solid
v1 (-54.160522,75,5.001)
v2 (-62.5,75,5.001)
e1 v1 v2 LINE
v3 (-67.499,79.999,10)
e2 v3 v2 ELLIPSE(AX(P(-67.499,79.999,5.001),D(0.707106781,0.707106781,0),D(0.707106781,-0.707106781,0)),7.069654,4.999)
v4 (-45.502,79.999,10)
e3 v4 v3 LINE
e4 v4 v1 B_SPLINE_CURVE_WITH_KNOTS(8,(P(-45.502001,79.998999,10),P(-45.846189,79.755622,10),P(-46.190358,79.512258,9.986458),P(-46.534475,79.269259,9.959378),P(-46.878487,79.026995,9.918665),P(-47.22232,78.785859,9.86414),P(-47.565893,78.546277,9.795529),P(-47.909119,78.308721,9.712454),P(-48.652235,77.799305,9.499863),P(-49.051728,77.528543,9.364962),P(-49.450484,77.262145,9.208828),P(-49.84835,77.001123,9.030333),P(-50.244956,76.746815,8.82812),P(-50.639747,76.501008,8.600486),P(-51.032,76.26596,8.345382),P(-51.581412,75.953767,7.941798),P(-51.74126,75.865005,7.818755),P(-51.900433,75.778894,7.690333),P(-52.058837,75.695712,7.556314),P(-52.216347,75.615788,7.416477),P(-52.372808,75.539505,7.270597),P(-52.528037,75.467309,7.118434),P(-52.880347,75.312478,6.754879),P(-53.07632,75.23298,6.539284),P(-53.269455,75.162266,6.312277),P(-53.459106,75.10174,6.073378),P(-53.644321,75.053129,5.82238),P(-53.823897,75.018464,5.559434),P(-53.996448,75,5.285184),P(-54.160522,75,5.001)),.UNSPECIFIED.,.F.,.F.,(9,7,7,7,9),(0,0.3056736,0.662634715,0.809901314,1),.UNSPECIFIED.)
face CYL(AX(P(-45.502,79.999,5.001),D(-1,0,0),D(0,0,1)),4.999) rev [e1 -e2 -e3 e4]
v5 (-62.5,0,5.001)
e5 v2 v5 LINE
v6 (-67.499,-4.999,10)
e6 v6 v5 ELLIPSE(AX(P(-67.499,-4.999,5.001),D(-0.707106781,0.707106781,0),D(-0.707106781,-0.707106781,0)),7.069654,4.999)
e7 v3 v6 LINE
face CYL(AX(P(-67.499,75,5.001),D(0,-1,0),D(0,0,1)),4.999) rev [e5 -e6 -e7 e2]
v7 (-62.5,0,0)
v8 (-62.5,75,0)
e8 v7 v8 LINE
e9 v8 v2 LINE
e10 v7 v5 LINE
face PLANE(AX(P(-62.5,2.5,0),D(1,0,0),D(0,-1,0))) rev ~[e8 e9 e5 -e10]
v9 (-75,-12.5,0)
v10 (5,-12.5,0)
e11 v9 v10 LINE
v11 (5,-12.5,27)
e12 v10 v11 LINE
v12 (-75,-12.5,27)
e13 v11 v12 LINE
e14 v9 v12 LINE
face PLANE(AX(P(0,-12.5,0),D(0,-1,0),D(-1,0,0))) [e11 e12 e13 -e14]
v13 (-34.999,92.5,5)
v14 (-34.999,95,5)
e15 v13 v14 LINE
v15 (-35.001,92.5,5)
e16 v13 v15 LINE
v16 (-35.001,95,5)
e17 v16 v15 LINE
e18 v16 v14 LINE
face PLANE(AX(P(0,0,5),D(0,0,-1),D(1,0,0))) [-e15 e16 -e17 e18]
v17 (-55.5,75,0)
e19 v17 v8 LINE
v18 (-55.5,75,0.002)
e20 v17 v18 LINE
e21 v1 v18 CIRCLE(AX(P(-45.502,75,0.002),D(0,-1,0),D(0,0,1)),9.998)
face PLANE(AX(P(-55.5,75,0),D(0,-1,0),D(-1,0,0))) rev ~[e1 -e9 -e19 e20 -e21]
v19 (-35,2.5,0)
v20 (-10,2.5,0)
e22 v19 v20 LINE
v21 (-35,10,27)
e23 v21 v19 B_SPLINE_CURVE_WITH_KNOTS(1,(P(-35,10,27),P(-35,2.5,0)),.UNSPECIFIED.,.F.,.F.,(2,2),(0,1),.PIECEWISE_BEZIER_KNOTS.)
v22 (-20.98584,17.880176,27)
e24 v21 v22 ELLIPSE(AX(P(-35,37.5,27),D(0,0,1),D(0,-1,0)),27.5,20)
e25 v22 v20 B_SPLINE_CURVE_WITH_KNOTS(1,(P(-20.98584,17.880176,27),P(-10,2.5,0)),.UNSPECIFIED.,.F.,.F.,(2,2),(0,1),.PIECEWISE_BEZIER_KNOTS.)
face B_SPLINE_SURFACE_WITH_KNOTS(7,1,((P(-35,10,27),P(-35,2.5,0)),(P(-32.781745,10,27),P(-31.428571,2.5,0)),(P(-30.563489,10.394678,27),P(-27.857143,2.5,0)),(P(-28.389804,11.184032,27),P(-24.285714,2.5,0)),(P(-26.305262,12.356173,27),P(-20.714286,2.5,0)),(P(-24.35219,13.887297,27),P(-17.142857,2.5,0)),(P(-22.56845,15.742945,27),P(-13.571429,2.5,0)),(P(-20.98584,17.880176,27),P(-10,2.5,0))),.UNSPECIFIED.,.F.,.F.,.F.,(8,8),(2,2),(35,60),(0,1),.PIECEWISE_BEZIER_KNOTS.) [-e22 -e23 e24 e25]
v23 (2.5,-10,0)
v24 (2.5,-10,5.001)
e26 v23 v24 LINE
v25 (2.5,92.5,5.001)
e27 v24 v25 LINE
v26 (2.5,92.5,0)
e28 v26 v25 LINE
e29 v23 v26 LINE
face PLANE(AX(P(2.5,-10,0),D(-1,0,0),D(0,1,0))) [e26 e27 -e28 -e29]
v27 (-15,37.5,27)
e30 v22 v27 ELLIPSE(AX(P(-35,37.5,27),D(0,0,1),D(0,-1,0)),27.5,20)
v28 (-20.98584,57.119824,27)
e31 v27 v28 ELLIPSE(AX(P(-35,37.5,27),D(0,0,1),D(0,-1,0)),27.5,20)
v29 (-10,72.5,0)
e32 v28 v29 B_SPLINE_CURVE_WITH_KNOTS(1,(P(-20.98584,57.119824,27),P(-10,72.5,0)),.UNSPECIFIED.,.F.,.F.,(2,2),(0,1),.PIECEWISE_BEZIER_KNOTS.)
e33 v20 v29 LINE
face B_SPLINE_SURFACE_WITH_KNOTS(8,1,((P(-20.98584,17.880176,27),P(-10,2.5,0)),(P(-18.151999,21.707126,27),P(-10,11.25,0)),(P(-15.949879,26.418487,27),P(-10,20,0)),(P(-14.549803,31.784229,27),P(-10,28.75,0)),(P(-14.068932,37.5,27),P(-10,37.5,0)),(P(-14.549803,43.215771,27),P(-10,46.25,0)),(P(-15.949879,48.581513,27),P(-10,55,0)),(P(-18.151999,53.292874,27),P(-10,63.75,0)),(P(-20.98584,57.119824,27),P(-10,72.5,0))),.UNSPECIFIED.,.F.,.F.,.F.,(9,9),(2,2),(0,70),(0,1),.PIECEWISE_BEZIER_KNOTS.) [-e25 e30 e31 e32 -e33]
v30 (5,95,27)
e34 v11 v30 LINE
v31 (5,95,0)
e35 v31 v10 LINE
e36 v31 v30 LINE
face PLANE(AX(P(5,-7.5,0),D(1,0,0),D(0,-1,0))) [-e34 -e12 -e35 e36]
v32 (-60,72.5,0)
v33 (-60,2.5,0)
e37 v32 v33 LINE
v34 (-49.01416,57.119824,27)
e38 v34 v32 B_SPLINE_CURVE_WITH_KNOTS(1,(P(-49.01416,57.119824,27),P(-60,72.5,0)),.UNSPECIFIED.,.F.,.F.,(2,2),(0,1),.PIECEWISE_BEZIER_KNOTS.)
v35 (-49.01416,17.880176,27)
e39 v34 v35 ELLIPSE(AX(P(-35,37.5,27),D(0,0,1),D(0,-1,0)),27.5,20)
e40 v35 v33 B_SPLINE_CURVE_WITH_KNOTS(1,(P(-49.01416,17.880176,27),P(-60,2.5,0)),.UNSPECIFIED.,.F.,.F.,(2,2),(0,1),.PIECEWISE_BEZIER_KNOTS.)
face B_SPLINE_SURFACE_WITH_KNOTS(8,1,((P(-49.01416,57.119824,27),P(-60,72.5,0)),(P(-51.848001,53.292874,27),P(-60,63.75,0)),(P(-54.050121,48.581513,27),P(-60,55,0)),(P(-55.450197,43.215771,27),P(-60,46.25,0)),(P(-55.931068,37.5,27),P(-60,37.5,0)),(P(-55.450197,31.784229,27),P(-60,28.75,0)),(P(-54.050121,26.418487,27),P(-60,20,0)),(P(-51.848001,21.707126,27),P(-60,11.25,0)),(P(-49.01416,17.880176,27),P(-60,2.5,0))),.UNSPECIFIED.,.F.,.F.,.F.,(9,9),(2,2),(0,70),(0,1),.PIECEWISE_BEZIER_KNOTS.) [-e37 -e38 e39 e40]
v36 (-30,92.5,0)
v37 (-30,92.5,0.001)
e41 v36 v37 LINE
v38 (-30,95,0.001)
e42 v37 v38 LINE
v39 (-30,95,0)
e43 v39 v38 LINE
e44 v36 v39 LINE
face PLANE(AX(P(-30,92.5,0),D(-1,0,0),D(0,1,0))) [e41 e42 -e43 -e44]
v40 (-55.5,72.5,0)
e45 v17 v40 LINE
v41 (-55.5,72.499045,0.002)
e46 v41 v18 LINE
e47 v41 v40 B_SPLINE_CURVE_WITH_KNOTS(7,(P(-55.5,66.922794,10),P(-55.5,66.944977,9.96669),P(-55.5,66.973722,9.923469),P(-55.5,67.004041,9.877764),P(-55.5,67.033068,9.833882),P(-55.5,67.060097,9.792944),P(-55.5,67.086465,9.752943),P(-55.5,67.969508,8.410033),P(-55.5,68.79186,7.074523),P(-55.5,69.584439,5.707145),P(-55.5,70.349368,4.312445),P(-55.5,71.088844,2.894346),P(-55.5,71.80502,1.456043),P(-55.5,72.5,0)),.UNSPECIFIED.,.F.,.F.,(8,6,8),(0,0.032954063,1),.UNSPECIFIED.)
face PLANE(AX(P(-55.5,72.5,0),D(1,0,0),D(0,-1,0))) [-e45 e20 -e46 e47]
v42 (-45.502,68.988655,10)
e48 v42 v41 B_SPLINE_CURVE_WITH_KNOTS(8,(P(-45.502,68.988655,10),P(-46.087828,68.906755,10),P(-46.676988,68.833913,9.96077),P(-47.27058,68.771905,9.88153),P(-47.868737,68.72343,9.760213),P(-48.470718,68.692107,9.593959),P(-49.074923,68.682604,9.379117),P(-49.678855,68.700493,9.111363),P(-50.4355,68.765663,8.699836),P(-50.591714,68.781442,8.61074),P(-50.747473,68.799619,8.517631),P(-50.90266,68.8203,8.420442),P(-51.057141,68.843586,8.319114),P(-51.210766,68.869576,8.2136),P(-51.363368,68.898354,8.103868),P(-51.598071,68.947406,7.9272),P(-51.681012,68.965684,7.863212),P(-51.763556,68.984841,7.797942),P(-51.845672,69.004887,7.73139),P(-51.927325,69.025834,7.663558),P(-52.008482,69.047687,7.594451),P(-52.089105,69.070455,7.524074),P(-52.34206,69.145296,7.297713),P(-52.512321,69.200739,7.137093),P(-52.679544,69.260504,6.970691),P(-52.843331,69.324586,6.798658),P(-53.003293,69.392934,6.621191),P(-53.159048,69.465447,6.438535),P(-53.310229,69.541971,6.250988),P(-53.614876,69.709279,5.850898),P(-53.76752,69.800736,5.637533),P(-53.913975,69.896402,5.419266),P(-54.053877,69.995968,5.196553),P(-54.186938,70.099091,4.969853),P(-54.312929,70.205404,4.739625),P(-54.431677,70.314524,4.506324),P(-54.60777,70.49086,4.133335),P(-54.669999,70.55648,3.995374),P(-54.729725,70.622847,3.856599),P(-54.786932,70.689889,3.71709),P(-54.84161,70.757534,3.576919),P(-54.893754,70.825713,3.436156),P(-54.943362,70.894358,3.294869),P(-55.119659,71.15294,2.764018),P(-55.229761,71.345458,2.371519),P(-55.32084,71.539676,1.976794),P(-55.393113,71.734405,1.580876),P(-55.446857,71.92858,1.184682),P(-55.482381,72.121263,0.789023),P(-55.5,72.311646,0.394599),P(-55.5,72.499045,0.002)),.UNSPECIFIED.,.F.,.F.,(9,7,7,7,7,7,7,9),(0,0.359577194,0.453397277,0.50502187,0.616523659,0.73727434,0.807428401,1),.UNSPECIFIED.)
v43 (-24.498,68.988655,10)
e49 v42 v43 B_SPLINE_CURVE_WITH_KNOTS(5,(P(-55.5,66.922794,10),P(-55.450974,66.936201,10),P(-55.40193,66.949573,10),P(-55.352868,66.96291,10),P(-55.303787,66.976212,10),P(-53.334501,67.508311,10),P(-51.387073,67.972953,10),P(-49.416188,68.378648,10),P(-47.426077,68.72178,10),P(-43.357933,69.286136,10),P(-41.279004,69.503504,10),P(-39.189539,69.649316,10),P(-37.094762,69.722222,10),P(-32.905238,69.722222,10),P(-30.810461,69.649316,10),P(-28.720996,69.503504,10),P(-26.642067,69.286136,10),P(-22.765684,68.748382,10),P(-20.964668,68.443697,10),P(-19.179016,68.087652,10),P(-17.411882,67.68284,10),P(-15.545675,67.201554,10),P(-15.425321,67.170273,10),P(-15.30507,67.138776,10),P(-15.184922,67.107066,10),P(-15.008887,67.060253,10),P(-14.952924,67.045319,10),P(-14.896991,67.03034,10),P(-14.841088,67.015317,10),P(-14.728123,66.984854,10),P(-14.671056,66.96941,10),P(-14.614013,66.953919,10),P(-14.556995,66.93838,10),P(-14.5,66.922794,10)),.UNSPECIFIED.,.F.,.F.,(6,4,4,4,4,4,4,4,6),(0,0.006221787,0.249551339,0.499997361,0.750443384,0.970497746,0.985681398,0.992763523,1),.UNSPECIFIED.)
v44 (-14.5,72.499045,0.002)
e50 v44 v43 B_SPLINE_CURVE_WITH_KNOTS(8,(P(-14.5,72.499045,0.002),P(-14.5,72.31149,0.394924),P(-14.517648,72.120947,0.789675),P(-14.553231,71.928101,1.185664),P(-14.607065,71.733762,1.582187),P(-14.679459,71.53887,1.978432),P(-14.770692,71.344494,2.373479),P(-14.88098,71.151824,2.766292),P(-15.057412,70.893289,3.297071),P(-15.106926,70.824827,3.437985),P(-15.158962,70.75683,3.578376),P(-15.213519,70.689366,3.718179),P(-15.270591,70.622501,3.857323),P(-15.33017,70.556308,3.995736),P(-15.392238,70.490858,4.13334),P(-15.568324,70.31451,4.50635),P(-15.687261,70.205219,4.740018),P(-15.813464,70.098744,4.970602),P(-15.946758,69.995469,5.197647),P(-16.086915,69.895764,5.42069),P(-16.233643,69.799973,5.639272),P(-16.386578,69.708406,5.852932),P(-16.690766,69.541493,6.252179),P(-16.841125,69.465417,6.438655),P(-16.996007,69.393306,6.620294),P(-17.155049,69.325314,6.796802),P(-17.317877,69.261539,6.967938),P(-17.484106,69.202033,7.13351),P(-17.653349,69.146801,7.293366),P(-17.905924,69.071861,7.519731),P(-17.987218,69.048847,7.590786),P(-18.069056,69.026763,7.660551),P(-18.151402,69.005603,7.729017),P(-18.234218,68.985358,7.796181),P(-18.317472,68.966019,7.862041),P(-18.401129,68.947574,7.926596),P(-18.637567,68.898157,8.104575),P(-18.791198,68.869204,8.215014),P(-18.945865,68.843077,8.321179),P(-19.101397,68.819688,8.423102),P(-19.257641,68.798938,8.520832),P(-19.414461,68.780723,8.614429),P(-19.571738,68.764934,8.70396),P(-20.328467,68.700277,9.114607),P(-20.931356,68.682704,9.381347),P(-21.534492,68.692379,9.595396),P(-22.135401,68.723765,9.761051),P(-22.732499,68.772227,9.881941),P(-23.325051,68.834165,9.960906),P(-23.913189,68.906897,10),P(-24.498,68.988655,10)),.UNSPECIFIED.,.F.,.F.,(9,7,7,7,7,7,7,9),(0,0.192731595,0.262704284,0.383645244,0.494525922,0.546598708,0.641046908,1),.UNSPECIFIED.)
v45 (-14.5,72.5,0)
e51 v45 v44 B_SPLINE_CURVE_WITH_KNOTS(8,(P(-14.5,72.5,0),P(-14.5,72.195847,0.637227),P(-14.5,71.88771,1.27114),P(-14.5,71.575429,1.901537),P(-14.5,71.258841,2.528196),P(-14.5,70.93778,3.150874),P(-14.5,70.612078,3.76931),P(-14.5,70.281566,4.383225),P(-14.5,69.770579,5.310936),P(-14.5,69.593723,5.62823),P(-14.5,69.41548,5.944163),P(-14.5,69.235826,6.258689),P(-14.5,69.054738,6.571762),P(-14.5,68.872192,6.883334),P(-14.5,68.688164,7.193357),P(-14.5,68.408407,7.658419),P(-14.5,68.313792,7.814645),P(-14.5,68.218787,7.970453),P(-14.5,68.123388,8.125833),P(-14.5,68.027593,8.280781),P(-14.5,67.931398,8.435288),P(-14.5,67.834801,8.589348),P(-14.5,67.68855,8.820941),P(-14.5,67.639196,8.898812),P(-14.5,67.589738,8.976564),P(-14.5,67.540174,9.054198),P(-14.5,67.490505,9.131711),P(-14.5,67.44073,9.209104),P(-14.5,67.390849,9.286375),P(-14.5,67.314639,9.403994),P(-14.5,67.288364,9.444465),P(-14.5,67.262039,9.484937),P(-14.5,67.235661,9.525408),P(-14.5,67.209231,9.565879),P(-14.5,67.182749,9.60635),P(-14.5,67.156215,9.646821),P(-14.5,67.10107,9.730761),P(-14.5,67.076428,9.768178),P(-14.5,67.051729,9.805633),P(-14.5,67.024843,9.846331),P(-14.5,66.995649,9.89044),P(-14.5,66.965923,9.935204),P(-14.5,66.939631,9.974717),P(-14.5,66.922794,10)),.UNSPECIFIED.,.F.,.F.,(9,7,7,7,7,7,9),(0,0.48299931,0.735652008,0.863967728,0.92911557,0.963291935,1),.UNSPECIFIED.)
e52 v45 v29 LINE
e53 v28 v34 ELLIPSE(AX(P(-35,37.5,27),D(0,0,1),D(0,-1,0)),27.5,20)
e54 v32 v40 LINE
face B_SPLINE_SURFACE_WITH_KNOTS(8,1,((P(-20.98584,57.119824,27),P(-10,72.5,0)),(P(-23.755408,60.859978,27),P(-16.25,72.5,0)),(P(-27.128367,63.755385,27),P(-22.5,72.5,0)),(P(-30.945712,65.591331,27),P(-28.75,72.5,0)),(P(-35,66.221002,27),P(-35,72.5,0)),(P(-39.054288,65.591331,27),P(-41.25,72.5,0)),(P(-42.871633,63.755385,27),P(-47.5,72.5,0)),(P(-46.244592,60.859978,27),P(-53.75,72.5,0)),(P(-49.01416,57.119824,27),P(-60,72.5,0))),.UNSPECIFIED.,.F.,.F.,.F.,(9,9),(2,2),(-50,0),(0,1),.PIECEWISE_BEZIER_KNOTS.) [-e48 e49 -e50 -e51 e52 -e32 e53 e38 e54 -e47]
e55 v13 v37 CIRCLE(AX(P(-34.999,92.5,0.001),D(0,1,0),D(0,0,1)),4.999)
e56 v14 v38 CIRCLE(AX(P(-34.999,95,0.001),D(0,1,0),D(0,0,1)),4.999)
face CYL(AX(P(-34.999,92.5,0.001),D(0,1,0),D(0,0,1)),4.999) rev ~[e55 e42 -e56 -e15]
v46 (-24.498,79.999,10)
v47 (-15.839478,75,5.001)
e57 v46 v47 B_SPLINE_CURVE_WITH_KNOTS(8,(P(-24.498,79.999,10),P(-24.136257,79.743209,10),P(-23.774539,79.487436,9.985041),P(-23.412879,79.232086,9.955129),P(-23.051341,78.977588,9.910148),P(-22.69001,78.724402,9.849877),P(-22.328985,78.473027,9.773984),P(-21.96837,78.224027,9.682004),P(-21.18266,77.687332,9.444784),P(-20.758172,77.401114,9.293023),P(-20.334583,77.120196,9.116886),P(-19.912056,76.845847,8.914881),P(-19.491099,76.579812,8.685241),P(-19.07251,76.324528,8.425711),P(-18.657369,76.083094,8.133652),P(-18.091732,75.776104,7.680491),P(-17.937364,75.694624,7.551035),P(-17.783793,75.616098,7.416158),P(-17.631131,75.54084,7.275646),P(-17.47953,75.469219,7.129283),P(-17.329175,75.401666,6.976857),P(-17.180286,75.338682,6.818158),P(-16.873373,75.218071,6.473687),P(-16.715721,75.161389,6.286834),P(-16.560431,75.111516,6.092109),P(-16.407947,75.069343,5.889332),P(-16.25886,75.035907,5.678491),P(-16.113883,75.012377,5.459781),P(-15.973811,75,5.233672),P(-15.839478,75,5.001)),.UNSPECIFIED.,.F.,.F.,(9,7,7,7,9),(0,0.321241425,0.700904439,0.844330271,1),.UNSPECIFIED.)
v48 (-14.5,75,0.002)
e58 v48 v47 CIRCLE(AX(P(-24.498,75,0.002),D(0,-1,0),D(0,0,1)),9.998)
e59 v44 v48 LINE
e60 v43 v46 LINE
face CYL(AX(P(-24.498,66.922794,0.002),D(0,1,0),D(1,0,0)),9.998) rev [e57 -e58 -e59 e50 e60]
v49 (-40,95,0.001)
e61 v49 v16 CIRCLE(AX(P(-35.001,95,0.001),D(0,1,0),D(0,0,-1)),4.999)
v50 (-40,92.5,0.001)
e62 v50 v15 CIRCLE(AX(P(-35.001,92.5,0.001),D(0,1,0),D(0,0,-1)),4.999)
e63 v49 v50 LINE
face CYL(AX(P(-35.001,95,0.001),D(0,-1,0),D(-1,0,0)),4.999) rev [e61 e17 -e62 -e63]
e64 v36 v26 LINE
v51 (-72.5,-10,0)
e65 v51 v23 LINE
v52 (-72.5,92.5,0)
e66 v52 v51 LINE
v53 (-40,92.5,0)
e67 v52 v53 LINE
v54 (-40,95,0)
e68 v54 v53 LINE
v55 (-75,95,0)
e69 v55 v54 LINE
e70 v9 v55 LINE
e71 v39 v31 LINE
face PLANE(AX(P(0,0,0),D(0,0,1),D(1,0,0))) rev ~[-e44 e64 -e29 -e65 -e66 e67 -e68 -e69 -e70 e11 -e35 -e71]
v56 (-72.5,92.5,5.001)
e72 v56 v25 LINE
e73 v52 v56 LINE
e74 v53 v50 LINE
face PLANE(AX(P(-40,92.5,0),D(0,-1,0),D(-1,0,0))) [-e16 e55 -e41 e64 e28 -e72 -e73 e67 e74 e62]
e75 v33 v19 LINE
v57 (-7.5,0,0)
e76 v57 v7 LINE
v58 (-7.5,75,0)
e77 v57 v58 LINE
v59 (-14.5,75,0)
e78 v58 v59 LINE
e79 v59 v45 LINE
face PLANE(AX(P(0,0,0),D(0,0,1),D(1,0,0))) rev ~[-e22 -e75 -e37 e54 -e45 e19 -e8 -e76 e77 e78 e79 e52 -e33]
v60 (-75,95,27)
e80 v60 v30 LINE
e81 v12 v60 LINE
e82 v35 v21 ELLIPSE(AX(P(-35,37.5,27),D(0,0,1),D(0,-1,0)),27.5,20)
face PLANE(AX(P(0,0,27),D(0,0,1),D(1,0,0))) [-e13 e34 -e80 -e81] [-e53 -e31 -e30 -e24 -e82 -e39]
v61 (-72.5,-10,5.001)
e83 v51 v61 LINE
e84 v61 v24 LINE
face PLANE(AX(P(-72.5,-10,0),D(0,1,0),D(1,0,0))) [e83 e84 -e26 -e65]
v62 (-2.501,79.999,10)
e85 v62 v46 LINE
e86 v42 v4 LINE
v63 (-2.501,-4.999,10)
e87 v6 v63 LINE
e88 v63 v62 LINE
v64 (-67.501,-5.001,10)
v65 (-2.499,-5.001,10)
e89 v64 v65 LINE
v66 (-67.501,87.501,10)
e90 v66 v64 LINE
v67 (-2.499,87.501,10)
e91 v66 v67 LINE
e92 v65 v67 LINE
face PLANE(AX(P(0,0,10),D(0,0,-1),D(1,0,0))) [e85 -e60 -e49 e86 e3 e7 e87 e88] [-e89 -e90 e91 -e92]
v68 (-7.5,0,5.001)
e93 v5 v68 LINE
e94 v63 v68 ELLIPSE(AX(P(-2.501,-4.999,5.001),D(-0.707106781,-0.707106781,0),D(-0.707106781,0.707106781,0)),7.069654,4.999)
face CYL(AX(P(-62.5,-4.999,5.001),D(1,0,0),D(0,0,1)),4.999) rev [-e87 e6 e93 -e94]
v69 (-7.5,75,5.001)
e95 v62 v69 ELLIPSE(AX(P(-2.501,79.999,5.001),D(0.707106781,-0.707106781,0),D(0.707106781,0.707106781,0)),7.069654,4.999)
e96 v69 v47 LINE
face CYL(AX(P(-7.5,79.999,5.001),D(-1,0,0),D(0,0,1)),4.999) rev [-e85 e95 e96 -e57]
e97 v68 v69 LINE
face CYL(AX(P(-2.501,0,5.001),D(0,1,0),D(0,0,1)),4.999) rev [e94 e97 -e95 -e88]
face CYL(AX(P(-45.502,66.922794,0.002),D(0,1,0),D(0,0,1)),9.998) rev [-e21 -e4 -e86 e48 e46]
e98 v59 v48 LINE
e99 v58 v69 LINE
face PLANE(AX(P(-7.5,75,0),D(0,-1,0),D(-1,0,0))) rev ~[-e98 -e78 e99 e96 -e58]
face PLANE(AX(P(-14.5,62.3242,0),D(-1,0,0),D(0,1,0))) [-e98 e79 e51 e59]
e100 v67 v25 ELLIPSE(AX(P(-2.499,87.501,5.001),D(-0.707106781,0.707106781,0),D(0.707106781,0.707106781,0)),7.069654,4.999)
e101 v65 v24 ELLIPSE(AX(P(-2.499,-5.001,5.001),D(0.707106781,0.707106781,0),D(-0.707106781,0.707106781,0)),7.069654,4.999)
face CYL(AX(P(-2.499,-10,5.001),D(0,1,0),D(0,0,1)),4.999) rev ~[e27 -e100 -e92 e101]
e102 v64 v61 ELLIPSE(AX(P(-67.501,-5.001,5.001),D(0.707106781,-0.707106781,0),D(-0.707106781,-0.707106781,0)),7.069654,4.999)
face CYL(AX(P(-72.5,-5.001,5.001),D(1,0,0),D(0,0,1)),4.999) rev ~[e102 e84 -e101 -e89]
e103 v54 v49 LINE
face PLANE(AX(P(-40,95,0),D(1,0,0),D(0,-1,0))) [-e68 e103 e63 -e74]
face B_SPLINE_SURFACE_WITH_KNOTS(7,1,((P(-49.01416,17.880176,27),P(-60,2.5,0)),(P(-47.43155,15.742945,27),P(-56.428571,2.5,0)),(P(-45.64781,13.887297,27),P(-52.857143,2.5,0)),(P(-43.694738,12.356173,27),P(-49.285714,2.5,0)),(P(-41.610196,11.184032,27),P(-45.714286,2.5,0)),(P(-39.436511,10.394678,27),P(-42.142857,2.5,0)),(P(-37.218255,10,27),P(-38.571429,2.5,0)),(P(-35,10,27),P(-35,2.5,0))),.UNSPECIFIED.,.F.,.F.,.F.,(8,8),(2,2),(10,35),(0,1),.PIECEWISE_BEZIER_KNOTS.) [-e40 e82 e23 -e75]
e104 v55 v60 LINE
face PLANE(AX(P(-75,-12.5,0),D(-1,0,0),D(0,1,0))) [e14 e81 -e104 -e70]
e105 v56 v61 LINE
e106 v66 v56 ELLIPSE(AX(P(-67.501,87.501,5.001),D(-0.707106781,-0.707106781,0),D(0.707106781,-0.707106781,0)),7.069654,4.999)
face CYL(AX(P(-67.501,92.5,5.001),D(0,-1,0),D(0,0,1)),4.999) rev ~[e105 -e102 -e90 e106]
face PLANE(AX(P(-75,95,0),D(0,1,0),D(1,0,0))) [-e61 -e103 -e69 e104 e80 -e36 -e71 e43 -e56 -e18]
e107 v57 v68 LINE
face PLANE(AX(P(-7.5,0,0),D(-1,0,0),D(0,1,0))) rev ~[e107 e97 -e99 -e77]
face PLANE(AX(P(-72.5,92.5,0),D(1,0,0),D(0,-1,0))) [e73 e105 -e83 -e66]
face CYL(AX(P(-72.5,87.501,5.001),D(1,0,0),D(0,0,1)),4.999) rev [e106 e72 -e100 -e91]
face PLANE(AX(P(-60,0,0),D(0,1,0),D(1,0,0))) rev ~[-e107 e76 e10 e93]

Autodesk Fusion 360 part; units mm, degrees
sketch "Sketch1" plane through (0, 0, 0) normal (0, 0, 1) x (1, 0, 0)
  line L0 (0, 0) -> (-70, 0)
  line L1 (-70, 0) -> (-70, 90)
  line L2 (-70, 90) -> (0, 90)
  line L3 (0, 90) -> (0, 0)
  line L4 (-70, 0) -> (0, 0)
  line L5 (0, 0) -> (0, 10)
  line L6 (0, 10) -> (-70, 10)
  line L7 (-70, 10) -> (-70, 0)
  line L8 (-70, 10) -> (-35, 10)
  line L9 (0, 10) -> (0, 32.5)
  line L10 (-35, 10) -> (-15, 10)
  line L11 (-15, 10) -> (-15, 37.5)
  line L12 (-15, 10) -> (-35, 10)
  line L13 (-35, 10) -> (-35, 37.5)
  line L14 (-35, 37.5) -> (-15, 37.5)
  line L15 (-15, 37.5) -> (-15, 10)
  ellipse E0 centre (-35, 37.5) end of major axis (-35, 10) minor radius 20
  line L16 (-35, 65) -> (-35, 10) construction
  line L17 (-55, 37.5) -> (-15, 37.5) construction
  line L18 (0, 10) -> (-10, 10)
  line L19 (-10, 10) -> (-60, 10)
  line L20 (-60, 10) -> (-60, 72.5)
  line L21 (-60, 72.5) -> (-10, 72.5)
  line L22 (-10, 72.5) -> (-10, 10)
  line L23 (0, 10) -> (-70, 10)
  line L24 (-70, 10) -> (-70, 2.5)
  line L25 (-70, 2.5) -> (0, 2.5)
  line L26 (0, 2.5) -> (0, 10)
  line L27 (0, 2.5) -> (-70, 2.5)
  line L28 (-70, 2.5) -> (-70, -7.5)
  line L29 (-70, -7.5) -> (0, -7.5)
  line L30 (0, -7.5) -> (0, 2.5)
  line L31 (-10, 10) -> (-60, 10)
  line L32 (-60, 10) -> (-60, 2.5)
  line L33 (-60, 2.5) -> (-10, 2.5)
  line L34 (-10, 2.5) -> (-10, 10)
  line L35 (0, -7.5) -> (5, -7.5)
  line L36 (5, -7.5) -> (5, -12.5)
  line L37 (5, -12.5) -> (0, -12.5)
  line L38 (0, -12.5) -> (0, -7.5)
  line L39 (5, -12.5) -> (-75, -12.5)
  line L40 (-75, -12.5) -> (-75, 95)
  line L41 (-75, 95) -> (5, 95)
  line L42 (5, 95) -> (5, -12.5)
  dimension "d1" = 70
  dimension "d2" = 90
  dimension "d3" = 10
  dimension "d4" = 35
  dimension "d5" = 22.5
  dimension "d6" = 20
  dimension "d7" = 27.5
  dimension "d8" = 27.5
  dimension "d11" = 10
  dimension "d12" = 50
  dimension "d13" = 62.5
  dimension "d14" = 70
  dimension "d15" = 7.5
  dimension "d16" = 70
  dimension "d17" = 10
  dimension "d20" = 50
  dimension "d21" = 7.5
  dimension "d22" = 5
  dimension "d23" = 5
  dimension "d24" = 80
  dimension "d25" = 107.5
extrude "Extrude1" add sketch "Sketch1" along normal blind 27 contours L0 L1 L3 L4 L5 L7 L25 L27 L28 L30 L33 | L3 L5 L6 L18 L23 L25 L26 L27 L34 | L1 L6 L7 L8 L23 L24 L25 L27 L32 | L1 L2 L3 L6 L8 L9 L18 L20 L21 L22 L23 | L6 L8 L10 L12 L19 L23 L25 L27 L31 L32 L33 L34 | L6 L8 L11 L15 E0 L19 L20 L21 L22 L23 L31 | L6 L10 L11 L12 L15 E0 L19 L23 L31
extrude "Extrude2" add sketch "Sketch1" along normal blind 27 contours L0 L4 L28 L29 L30
sketch "Sketch2" plane through (0, 0, 27) normal (0, 0, 1) x (-1, 0, 0)
  ellipse E0 centre (35, -37.5) end of major axis (35, -10) minor radius 20
  line L0 (70, -90) -> (70, 7.5)
  line L1 (70, 7.5) -> (0, 7.5)
  line L2 (0, 7.5) -> (0, -90)
  line L3 (0, -90) -> (70, -90)
  ellipse E1 centre (35, -37.5) end of major axis (35, -10) minor radius 20
  line L4 (35, -65) -> (35, -10) construction
  line L5 (55, -37.5) -> (15, -37.5) construction
loft "Loft1" cut profiles "Sketch2", "Sketch1" section 1 contours E0 E1 section 2 contours L6 L8 L10 L12 L19 L23 L25 L27 L31 L32 L33 L34 | L6 L8 L11 L15 E0 L19 L20 L21 L22 L23 L31 | L6 L10 L11 L12 L15 E0 L19 L23 L31
extrude "Extrude3" add sketch "Sketch1" along normal blind 27
sketch "Sketch3" plane through (0, 0, 0) normal (0, 0, -1) x (1, 0, 0)
  line L0 (-75, -95) -> (5, -95)
  line L1 (5, -95) -> (5, 12.5)
  line L2 (5, 12.5) -> (-75, 12.5)
  line L3 (-75, 12.5) -> (-75, -95)
  line L4 (-60, -72.5) -> (-60, -2.5)
  line L5 (-60, -2.5) -> (-10, -2.5)
  line L6 (-10, -2.5) -> (-10, -72.5)
  line L7 (-10, -72.5) -> (-60, -72.5)
sketch "Sketch4" plane through (0, 0, 0) normal (0, 0, -1) x (1, 0, 0)
  line L0 (-75, -95) -> (5, -95)
  line L1 (5, -95) -> (5, 12.5)
  line L2 (5, 12.5) -> (-75, 12.5)
  line L3 (-75, 12.5) -> (-75, -95)
  line L4 (-60, -72.5) -> (-60, -2.5)
  line L5 (-60, -2.5) -> (-10, -2.5)
  line L6 (-10, -2.5) -> (-10, -72.5)
  line L7 (-10, -72.5) -> (-60, -72.5)
  line L8 (-75, 12.5) -> (-72.5, 12.5)
  line L9 (-72.5, 12.5) -> (-72.5, 10)
  line L10 (-72.5, 10) -> (-75, 10)
  line L11 (-75, 10) -> (-75, 12.5)
  line L12 (-60, -2.5) -> (-62.5, -2.5)
  line L13 (-62.5, -2.5) -> (-62.5, 0)
  line L14 (-62.5, 0) -> (-60, 0)
  line L15 (-60, 0) -> (-60, -2.5)
  line L16 (5, 12.5) -> (3.2245, 12.5)
  line L17 (3.2245, 12.5) -> (3.2245, 10)
  line L18 (3.2245, 10) -> (5, 10)
  line L19 (5, 10) -> (5, 12.5)
  line L20 (-62.5, 0) -> (-7.5, 0)
  line L21 (-7.5, 0) -> (-7.5, -75)
  line L22 (-7.5, -75) -> (-62.5, -75)
  line L23 (-62.5, -75) -> (-62.5, 0)
  line L24 (5, -95) -> (2.5, -95)
  line L25 (2.5, -95) -> (2.5, -92.5)
  line L26 (2.5, -92.5) -> (5, -92.5)
  line L27 (5, -92.5) -> (5, -95)
  line L28 (-72.5, 10) -> (2.5, 10)
  line L29 (2.5, 10) -> (2.5, -92.5)
  line L30 (2.5, -92.5) -> (-72.5, -92.5)
  line L31 (-72.5, -92.5) -> (-72.5, 10)
  line L32 (-75, 12.5) -> (5, 12.5)
  line L33 (5, 12.5) -> (5, -95)
  line L34 (5, -95) -> (-75, -95)
  line L35 (-75, -95) -> (-75, 12.5)
  line L36 (-62.5, -75) -> (-55.5, -75)
  line L37 (-7.5, -75) -> (-14.5, -75)
  line L38 (-55.5, -75) -> (-55.5, -72.5)
  line L39 (-14.5, -75) -> (-55.5, -75)
  line L40 (-55.5, -75) -> (-55.5, -72.5)
  line L41 (-55.5, -72.5) -> (-14.5, -72.5)
  line L42 (-14.5, -72.5) -> (-14.5, -75)
  line L43 (-14.5, -75) -> (-55.5, -75)
  line L44 (-55.5, -75) -> (-55.5, -62.3242)
  line L45 (-55.5, -62.3242) -> (-14.5, -62.3242)
  line L46 (-14.5, -62.3242) -> (-14.5, -75)
  line L47 (-30, -95) -> (-40, -95)
  line L48 (-40, -95) -> (-40, -92.5)
  line L49 (-40, -92.5) -> (-30, -92.5)
  line L50 (-30, -92.5) -> (-30, -95)
  dimension "d30" = 2.5
  dimension "d31" = 2.5
  dimension "d32" = 2.5
  dimension "d33" = 2.5
  dimension "d34" = 2.5
  dimension "d35" = 55
  dimension "d36" = 75
  dimension "d37" = 2.5
  dimension "d38" = 2.5
  dimension "d39" = 7
  dimension "d40" = 7
  dimension "d41" = 10
extrude "Extrude4" cut sketch "Sketch4" against normal blind 10 contours L7 L41 L44 L45 L46 | L7 L22 L38 L39 L40 L41 L42 L43 L44 L46
fillet "Fillet1" radius 10 2 edges at (-14.5, 70.9614, 10) (-55.5, 70.9614, 10)
extrude "Extrude5" cut sketch "Sketch4" against normal blind 10 contours L28 L29 L30 L31 L49
fillet "Fillet2" radius 5 9 edges at (2.5, 41.25, 10) (-35, 92.5, 10) (-7.5, 37.5, 10) (-62.5, 37.5, 10) (-72.5, 41.25, 10) (-35, -10, 10) (-35, 0, 10) (-54, 75, 10) (-16, 75, 10)
extrude "Extrude6" cut sketch "Sketch4" against normal blind 5 contours L0 L30 L34 L47 L48 L49 L50
fillet "Fillet3" radius 5 2 edges at (-40, 93.75, 5) (-30, 93.75, 5)
